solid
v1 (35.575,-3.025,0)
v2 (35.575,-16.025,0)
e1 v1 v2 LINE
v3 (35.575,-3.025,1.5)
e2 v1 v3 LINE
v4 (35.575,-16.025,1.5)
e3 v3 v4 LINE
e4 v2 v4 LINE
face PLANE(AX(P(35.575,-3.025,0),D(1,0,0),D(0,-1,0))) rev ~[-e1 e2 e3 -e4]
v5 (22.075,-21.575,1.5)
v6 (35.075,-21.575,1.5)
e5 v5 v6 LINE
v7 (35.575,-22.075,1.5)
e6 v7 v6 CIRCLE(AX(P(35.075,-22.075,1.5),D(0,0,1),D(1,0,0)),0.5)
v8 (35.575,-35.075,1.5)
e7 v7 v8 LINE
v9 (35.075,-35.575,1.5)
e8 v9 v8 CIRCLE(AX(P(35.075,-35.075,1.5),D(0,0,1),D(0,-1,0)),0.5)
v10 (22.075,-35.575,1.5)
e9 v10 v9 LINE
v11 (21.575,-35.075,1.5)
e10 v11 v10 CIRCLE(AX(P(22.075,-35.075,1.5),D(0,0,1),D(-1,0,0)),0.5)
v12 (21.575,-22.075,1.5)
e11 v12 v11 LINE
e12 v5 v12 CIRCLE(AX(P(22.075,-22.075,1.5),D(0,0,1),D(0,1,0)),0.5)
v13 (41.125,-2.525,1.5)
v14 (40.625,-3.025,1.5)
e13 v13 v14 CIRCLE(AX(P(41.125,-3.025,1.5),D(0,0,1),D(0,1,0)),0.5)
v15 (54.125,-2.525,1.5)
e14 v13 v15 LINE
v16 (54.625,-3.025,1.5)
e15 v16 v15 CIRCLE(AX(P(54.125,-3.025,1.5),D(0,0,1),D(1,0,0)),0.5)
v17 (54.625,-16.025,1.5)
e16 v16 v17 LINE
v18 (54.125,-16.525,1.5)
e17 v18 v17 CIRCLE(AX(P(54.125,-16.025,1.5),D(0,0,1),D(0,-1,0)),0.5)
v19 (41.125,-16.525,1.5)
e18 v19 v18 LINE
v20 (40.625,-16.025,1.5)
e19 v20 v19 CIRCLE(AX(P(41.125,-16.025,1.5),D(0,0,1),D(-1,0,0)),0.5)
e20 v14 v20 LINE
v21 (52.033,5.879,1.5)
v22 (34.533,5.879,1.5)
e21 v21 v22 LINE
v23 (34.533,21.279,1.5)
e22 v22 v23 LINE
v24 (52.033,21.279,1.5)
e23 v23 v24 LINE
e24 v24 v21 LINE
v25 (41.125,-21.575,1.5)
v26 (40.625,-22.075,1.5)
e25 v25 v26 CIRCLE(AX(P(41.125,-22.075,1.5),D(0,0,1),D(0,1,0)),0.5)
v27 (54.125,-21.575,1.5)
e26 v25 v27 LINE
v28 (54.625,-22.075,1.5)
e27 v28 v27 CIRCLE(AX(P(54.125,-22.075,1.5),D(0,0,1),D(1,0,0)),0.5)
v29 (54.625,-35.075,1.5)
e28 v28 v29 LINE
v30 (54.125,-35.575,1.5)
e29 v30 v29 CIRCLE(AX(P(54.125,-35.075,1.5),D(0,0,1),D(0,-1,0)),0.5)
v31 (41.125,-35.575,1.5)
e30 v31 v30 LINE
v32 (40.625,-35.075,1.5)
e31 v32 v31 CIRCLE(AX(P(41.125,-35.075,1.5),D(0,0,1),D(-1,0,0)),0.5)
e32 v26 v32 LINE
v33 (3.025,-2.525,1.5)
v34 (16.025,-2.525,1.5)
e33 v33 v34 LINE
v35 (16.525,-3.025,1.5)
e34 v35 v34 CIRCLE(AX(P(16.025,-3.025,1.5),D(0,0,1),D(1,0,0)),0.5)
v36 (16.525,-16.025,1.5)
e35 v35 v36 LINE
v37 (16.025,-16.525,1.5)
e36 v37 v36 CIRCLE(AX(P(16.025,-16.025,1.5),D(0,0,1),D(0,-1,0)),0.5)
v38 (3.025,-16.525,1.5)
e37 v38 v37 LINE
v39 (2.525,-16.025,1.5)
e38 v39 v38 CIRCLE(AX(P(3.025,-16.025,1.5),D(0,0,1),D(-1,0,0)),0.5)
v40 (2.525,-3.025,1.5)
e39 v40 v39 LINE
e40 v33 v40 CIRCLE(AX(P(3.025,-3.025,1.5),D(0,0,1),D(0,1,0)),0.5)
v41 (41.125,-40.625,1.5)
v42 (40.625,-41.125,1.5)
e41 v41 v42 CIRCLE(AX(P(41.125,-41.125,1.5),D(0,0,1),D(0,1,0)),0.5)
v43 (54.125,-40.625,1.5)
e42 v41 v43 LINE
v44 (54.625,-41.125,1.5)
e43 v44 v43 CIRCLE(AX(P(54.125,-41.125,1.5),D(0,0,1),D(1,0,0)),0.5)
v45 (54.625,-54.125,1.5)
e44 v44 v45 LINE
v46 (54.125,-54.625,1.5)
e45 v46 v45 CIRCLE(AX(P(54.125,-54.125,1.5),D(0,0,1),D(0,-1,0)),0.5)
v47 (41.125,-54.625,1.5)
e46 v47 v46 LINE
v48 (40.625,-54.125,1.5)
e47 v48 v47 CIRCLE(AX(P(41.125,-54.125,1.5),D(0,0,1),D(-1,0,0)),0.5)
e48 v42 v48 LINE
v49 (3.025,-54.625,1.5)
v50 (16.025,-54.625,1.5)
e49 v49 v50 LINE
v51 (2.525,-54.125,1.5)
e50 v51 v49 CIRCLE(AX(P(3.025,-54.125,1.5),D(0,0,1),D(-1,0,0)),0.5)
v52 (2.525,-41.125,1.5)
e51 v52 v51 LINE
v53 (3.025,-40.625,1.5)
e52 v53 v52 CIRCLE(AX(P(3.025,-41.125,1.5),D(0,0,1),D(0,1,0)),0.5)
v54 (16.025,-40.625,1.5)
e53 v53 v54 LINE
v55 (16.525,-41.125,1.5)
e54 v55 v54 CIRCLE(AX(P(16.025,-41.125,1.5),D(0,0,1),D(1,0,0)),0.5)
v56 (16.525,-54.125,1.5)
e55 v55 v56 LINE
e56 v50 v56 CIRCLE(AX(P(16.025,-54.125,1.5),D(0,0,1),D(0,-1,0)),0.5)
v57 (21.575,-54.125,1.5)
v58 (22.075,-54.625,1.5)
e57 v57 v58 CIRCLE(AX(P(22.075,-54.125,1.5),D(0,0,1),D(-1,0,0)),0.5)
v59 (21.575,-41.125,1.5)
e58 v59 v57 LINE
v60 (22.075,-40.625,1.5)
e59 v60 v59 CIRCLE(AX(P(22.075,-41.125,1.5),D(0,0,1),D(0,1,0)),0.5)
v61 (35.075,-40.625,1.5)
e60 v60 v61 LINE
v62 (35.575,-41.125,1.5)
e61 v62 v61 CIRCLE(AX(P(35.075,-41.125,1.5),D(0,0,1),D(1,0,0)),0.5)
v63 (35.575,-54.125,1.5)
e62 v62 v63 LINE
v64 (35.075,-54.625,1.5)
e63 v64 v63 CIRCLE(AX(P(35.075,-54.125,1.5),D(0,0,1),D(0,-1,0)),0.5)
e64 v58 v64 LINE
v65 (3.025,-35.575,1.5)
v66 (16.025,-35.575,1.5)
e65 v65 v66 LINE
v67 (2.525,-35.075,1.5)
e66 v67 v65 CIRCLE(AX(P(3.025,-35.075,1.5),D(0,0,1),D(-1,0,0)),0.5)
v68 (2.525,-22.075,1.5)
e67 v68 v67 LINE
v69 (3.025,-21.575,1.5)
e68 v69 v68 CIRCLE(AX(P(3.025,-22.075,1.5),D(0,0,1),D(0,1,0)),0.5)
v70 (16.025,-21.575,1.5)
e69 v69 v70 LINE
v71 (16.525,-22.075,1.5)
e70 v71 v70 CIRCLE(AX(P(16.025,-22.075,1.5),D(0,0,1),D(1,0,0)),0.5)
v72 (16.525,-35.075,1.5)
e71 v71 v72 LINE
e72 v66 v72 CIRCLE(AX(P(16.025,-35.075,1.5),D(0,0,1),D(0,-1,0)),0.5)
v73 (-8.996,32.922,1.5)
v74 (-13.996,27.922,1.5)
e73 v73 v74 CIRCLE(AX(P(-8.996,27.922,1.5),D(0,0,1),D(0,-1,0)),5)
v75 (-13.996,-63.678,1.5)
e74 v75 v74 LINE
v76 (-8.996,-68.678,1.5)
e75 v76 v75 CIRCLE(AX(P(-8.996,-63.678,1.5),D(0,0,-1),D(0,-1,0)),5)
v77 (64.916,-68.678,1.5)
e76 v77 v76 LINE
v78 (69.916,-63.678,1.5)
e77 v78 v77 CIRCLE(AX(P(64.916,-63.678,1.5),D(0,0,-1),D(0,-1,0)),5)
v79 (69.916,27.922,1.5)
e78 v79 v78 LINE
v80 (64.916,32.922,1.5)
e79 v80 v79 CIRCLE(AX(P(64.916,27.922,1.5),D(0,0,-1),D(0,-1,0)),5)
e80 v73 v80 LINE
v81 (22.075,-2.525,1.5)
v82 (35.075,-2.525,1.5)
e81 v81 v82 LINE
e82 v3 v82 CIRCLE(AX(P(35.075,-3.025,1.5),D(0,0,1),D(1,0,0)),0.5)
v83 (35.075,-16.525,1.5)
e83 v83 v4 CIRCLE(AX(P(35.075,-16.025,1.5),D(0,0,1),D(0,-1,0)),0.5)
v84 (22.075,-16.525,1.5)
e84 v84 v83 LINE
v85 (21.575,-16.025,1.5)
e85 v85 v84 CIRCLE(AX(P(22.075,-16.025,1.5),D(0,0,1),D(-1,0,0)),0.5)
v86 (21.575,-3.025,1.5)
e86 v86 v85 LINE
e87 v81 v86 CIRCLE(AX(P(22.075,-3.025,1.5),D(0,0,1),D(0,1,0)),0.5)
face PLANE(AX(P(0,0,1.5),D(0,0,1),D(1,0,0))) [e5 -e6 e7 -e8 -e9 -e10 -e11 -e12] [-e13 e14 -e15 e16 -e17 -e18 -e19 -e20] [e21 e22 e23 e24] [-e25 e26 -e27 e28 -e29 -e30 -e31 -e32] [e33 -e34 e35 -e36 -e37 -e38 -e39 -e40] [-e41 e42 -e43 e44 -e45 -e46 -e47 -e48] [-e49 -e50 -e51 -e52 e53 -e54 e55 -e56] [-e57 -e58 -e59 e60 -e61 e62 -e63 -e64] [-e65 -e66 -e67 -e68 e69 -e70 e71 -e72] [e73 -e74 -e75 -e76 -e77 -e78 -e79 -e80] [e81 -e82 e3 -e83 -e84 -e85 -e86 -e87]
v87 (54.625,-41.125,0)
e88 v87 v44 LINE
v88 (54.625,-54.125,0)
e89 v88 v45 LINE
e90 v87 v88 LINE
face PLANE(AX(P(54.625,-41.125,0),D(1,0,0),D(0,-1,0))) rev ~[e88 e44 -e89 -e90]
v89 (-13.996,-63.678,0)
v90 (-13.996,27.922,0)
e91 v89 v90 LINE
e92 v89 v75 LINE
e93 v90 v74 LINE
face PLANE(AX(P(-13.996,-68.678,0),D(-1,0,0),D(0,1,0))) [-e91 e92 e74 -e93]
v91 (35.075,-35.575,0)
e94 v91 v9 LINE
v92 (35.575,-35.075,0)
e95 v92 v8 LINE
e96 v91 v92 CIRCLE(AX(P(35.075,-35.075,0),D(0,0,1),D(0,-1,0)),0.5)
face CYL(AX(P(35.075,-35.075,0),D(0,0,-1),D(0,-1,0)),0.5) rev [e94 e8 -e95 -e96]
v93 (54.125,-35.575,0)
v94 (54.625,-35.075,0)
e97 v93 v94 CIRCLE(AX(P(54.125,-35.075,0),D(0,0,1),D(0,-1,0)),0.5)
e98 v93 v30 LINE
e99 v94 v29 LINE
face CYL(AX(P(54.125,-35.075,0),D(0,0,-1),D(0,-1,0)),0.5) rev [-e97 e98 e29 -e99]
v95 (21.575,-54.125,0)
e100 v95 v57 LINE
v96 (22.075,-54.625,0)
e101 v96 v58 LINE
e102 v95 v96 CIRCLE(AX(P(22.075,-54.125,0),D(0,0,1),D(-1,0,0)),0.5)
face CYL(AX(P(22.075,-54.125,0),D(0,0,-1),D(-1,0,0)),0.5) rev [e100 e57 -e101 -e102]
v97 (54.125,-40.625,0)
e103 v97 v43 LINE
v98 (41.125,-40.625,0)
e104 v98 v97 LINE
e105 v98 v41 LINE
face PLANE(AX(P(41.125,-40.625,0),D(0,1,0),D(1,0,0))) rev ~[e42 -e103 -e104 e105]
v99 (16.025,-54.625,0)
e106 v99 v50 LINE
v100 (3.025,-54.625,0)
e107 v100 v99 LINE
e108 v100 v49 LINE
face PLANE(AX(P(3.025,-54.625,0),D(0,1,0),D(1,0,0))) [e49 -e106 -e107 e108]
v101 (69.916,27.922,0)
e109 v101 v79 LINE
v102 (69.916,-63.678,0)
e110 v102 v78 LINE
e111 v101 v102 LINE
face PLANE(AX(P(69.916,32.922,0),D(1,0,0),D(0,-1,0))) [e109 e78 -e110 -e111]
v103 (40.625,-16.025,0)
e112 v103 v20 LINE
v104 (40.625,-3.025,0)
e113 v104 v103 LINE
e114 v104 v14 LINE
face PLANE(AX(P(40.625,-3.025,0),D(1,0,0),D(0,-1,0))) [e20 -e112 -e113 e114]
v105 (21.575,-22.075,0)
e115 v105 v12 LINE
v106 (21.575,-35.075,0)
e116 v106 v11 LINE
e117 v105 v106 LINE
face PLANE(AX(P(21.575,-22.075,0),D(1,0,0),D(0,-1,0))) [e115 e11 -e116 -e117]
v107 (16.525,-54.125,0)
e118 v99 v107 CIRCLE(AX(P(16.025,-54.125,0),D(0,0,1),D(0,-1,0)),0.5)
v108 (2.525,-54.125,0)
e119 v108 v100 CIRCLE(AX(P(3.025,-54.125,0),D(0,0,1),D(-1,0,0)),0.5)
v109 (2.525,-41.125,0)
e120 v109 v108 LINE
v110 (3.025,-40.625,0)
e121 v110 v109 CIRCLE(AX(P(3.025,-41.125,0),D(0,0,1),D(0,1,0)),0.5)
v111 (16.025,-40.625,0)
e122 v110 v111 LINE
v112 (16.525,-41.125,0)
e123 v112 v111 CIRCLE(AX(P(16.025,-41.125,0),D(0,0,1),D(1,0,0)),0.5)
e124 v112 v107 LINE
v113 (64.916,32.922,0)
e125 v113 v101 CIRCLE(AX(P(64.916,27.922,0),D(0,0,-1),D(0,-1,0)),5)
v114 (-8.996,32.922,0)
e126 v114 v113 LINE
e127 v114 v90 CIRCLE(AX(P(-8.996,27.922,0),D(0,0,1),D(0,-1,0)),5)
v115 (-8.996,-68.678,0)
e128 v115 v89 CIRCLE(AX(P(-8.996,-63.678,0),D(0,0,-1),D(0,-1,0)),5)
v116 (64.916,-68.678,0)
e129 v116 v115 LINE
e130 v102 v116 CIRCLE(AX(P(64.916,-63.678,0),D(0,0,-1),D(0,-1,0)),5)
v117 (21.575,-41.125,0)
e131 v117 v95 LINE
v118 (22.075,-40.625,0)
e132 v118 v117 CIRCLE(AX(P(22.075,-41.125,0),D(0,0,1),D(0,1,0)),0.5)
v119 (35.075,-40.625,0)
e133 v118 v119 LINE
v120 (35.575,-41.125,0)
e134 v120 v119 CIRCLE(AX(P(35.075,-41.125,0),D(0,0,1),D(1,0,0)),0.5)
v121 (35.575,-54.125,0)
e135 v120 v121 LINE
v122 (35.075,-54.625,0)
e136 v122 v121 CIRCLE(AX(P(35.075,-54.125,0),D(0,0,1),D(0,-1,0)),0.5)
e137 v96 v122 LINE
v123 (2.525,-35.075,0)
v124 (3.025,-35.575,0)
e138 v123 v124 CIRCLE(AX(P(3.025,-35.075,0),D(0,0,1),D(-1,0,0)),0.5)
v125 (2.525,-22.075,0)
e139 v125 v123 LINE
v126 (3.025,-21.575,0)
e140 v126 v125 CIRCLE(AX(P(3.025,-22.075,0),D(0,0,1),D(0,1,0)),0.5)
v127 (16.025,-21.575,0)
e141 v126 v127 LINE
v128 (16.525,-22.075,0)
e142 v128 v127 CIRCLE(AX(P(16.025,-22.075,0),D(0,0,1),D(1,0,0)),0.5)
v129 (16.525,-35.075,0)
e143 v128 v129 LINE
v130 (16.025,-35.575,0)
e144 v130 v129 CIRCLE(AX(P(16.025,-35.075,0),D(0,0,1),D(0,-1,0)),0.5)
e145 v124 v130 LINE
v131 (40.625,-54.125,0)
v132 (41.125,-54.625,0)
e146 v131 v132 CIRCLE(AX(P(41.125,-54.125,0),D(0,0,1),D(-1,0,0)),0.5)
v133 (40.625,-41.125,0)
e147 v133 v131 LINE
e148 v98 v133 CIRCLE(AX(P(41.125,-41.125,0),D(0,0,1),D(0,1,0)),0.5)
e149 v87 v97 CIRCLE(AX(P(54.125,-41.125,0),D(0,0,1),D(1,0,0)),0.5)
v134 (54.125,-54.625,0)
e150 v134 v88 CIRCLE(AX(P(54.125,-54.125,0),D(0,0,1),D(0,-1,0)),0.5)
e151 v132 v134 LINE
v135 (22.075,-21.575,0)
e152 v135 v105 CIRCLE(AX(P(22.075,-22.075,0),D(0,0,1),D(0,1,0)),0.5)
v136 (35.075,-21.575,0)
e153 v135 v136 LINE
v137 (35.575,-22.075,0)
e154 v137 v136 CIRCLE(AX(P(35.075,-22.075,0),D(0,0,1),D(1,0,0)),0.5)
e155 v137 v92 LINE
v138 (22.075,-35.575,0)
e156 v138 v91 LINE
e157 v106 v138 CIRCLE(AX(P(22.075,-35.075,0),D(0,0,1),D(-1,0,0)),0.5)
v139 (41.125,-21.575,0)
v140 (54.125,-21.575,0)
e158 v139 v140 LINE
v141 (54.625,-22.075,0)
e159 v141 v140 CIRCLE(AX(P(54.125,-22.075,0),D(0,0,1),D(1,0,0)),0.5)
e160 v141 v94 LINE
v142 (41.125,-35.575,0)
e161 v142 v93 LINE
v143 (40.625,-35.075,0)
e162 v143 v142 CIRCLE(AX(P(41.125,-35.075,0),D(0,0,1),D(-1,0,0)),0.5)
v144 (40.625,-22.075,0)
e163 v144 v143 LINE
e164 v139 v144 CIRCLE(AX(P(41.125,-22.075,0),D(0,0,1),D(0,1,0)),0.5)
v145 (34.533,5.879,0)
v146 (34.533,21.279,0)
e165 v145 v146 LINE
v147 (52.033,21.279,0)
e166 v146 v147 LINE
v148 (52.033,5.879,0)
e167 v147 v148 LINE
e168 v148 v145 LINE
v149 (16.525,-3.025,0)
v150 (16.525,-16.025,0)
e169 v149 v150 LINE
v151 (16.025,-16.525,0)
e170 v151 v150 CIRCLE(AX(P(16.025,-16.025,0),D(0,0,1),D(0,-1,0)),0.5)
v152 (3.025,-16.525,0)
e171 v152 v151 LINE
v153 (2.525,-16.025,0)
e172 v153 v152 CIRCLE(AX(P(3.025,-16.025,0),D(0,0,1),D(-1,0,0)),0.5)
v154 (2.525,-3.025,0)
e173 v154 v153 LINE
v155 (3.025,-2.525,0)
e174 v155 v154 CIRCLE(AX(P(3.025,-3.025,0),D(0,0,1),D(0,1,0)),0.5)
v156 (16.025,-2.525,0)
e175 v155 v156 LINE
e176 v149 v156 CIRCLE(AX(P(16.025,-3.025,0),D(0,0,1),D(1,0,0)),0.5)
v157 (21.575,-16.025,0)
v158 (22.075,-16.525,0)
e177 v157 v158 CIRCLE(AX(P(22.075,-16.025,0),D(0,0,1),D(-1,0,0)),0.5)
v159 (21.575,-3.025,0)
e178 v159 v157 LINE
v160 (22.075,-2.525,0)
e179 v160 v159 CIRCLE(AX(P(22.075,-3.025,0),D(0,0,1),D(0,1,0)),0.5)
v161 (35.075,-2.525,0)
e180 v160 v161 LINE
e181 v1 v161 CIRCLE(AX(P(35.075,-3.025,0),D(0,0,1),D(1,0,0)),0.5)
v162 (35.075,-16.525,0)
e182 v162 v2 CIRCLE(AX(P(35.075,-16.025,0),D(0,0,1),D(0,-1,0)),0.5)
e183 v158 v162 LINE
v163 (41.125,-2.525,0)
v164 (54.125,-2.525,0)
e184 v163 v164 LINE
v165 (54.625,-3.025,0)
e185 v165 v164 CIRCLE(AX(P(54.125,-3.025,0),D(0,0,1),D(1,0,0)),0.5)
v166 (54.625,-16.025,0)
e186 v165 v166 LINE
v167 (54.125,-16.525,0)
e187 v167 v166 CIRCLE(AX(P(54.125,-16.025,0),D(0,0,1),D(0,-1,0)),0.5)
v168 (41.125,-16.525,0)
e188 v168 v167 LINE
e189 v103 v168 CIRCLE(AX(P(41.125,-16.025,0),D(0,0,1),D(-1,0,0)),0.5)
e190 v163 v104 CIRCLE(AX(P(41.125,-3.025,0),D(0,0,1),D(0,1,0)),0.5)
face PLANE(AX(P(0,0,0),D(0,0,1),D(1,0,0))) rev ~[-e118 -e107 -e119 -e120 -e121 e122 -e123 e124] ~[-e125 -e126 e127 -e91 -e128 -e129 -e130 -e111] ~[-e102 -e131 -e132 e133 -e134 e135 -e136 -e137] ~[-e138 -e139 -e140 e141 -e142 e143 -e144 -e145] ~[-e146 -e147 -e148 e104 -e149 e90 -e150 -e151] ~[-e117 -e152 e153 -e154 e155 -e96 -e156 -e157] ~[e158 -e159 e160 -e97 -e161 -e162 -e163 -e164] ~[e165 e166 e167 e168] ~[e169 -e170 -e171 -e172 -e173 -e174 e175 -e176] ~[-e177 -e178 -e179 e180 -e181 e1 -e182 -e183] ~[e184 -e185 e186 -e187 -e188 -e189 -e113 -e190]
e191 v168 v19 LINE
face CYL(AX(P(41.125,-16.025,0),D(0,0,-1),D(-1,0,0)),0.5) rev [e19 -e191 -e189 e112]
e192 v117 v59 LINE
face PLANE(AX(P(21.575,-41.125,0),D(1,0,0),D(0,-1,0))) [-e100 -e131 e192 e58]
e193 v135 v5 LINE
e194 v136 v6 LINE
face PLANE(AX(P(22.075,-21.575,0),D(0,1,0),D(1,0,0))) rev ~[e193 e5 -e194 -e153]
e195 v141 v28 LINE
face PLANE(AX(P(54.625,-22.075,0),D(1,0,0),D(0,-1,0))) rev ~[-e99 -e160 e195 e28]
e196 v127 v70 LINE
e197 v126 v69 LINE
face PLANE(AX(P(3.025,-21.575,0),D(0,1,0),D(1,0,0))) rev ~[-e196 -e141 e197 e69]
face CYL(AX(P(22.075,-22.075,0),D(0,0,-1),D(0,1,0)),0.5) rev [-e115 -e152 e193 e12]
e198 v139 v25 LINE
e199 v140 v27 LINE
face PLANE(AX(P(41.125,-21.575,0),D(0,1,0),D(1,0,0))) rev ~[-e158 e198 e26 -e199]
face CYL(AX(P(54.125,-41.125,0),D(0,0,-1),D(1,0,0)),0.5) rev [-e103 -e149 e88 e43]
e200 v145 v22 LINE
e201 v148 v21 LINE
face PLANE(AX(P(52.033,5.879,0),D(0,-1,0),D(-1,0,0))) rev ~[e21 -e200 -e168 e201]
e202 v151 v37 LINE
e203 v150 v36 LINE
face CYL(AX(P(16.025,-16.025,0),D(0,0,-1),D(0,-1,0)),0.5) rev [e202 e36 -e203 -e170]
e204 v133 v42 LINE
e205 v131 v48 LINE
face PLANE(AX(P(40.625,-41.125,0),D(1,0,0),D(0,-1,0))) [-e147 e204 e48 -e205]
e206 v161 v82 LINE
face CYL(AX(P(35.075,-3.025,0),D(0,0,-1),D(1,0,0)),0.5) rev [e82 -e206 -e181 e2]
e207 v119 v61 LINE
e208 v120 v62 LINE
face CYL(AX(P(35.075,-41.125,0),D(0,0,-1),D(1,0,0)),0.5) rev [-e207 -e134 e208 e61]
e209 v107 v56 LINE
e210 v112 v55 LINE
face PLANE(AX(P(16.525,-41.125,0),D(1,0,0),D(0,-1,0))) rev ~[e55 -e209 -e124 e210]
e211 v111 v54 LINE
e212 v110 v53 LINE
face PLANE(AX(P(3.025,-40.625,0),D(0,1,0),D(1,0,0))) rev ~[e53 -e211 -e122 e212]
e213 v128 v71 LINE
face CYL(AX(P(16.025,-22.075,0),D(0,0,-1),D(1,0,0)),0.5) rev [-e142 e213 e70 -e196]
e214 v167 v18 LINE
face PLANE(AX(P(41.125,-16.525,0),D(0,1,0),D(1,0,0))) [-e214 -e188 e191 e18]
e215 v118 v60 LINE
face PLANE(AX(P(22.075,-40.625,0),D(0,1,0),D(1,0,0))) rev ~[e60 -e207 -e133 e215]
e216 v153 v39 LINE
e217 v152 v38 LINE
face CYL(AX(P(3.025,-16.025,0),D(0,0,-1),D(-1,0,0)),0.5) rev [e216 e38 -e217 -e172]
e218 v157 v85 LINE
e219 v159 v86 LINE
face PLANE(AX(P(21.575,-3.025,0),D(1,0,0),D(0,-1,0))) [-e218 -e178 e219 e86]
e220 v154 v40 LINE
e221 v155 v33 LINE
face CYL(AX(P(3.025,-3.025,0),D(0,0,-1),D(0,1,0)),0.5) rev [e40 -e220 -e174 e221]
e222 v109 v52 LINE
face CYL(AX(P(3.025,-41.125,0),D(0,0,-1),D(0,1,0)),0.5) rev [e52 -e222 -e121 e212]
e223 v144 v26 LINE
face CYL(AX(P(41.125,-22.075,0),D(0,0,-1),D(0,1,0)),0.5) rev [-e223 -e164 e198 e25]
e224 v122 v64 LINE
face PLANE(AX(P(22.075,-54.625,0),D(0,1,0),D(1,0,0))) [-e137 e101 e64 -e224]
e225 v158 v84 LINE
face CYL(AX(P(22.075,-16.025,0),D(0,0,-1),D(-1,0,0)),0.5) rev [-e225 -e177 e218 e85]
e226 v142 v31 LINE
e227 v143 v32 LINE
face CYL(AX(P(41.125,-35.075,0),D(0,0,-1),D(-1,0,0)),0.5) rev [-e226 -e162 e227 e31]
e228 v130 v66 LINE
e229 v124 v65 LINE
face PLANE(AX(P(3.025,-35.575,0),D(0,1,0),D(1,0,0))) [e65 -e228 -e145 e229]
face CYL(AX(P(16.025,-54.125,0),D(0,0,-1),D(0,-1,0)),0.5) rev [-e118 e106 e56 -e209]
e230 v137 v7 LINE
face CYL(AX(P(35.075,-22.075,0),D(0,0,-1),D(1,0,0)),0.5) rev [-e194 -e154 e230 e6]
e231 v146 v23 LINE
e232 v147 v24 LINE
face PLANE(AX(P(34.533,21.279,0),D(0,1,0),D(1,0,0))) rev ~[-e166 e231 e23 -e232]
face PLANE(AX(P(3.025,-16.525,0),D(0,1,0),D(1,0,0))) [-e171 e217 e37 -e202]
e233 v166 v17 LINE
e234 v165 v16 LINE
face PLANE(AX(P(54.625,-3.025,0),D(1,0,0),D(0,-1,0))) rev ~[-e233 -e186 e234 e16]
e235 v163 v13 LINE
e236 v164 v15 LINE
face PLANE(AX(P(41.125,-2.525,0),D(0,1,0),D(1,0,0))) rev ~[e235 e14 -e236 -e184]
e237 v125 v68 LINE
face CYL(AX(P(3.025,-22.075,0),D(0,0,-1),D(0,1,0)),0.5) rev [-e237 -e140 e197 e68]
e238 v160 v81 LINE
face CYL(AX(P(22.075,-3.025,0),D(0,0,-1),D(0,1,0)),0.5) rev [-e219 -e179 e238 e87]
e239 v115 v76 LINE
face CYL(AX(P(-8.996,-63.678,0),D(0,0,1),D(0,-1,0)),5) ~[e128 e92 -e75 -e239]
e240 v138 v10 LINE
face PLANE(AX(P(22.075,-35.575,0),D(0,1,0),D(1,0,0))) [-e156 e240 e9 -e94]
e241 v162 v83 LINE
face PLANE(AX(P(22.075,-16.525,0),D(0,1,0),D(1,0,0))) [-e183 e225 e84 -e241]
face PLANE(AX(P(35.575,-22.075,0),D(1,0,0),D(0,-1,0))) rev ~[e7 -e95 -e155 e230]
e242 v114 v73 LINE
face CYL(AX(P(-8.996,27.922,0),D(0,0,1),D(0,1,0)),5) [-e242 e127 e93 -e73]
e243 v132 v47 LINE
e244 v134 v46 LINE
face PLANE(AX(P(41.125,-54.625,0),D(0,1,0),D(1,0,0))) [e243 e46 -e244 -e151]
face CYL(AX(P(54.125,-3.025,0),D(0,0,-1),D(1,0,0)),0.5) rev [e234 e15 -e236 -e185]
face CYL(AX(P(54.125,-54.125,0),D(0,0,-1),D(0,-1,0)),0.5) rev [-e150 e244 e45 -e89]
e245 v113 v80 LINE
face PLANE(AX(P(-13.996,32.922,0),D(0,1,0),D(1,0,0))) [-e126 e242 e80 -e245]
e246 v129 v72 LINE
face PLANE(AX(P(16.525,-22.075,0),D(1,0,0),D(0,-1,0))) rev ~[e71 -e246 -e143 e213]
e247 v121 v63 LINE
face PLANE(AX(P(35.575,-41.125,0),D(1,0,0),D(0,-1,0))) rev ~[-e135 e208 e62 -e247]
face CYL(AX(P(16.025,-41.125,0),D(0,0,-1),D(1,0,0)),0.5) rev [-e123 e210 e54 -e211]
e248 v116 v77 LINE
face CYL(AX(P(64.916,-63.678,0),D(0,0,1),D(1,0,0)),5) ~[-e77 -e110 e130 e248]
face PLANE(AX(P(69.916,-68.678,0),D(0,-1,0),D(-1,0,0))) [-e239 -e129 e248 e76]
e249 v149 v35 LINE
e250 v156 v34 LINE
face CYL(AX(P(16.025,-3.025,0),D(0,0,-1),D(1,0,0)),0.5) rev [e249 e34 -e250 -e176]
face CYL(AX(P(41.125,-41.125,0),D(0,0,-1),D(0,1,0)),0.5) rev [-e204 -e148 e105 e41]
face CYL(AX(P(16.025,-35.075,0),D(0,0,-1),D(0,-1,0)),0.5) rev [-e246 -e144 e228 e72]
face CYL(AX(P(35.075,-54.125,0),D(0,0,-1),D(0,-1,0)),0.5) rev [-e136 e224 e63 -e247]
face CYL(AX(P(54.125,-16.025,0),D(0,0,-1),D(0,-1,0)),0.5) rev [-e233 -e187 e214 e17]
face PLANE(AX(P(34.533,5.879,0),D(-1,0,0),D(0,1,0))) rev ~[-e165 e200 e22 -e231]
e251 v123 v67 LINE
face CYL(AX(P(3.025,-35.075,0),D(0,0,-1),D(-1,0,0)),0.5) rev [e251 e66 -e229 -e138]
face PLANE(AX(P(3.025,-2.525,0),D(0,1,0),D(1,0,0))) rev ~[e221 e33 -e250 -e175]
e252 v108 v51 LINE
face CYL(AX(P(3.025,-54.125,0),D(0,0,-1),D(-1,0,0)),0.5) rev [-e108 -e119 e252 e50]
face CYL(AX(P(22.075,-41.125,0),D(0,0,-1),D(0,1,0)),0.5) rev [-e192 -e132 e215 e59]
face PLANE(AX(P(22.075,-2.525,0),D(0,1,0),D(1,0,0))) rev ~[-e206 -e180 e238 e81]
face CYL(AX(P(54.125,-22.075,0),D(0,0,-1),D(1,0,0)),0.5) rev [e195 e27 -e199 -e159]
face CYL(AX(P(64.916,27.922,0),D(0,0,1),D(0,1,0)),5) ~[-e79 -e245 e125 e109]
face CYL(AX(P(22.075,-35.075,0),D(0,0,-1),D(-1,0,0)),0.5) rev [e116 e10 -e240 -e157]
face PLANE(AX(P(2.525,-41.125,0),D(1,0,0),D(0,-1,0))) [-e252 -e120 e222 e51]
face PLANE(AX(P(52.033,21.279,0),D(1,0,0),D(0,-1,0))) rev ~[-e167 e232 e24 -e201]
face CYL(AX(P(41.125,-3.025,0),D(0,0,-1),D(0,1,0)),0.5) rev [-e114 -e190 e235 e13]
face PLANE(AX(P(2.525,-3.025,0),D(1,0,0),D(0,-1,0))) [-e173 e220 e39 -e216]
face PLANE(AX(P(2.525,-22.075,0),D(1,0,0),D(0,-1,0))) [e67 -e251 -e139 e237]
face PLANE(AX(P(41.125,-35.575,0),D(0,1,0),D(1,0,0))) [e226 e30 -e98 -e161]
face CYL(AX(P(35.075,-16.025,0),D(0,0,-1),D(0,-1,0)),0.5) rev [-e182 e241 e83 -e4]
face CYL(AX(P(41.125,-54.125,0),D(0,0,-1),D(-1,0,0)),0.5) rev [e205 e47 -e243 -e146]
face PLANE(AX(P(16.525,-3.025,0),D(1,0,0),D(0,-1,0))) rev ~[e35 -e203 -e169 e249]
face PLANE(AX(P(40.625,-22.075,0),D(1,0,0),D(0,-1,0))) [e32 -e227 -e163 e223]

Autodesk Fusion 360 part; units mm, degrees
sketch "Szkic1" plane through (0, 0, 0) normal (0, 0, 1) x (1, 0, 0)
  line L0 (-13.996, 32.922) -> (69.916, 32.922)
  line L1 (69.916, 32.922) -> (69.916, -68.678)
  line L2 (69.916, -68.678) -> (-13.996, -68.678)
  line L3 (-13.996, -68.678) -> (-13.996, 32.922)
  line L4 (3.025, -2.525) -> (16.025, -2.525)
  line L5 (3.025, -16.525) -> (16.025, -16.525)
  line L6 (2.525, -3.025) -> (2.525, -16.025)
  line L7 (16.525, -3.025) -> (16.525, -16.025)
  arc A0 (3.025, -2.525) -> (2.525, -3.025) centre (3.025, -3.025) ccw
  arc A1 (16.525, -3.025) -> (16.025, -2.525) centre (16.025, -3.025) ccw
  arc A2 (2.525, -16.025) -> (3.025, -16.525) centre (3.025, -16.025) ccw
  arc A3 (16.025, -16.525) -> (16.525, -16.025) centre (16.025, -16.025) ccw
  line L8 (22.075, -2.525) -> (35.075, -2.525)
  line L9 (22.075, -16.525) -> (35.075, -16.525)
  line L10 (21.575, -3.025) -> (21.575, -16.025)
  line L11 (35.575, -3.025) -> (35.575, -16.025)
  arc A4 (22.075, -2.525) -> (21.575, -3.025) centre (22.075, -3.025) ccw
  arc A5 (35.575, -3.025) -> (35.075, -2.525) centre (35.075, -3.025) ccw
  arc A6 (21.575, -16.025) -> (22.075, -16.525) centre (22.075, -16.025) ccw
  arc A7 (35.075, -16.525) -> (35.575, -16.025) centre (35.075, -16.025) ccw
  line L12 (41.125, -2.525) -> (54.125, -2.525)
  line L13 (41.125, -16.525) -> (54.125, -16.525)
  line L14 (40.625, -3.025) -> (40.625, -16.025)
  line L15 (54.625, -3.025) -> (54.625, -16.025)
  arc A8 (41.125, -2.525) -> (40.625, -3.025) centre (41.125, -3.025) ccw
  arc A9 (54.625, -3.025) -> (54.125, -2.525) centre (54.125, -3.025) ccw
  arc A10 (40.625, -16.025) -> (41.125, -16.525) centre (41.125, -16.025) ccw
  arc A11 (54.125, -16.525) -> (54.625, -16.025) centre (54.125, -16.025) ccw
  line L16 (3.025, -21.575) -> (16.025, -21.575)
  line L17 (3.025, -35.575) -> (16.025, -35.575)
  line L18 (2.525, -22.075) -> (2.525, -35.075)
  line L19 (16.525, -22.075) -> (16.525, -35.075)
  arc A12 (3.025, -21.575) -> (2.525, -22.075) centre (3.025, -22.075) ccw
  arc A13 (16.525, -22.075) -> (16.025, -21.575) centre (16.025, -22.075) ccw
  arc A14 (2.525, -35.075) -> (3.025, -35.575) centre (3.025, -35.075) ccw
  arc A15 (16.025, -35.575) -> (16.525, -35.075) centre (16.025, -35.075) ccw
  line L20 (22.075, -21.575) -> (35.075, -21.575)
  line L21 (22.075, -35.575) -> (35.075, -35.575)
  line L22 (21.575, -22.075) -> (21.575, -35.075)
  line L23 (35.575, -22.075) -> (35.575, -35.075)
  arc A16 (22.075, -21.575) -> (21.575, -22.075) centre (22.075, -22.075) ccw
  arc A17 (35.575, -22.075) -> (35.075, -21.575) centre (35.075, -22.075) ccw
  arc A18 (21.575, -35.075) -> (22.075, -35.575) centre (22.075, -35.075) ccw
  arc A19 (35.075, -35.575) -> (35.575, -35.075) centre (35.075, -35.075) ccw
  line L24 (41.125, -21.575) -> (54.125, -21.575)
  line L25 (41.125, -35.575) -> (54.125, -35.575)
  line L26 (40.625, -22.075) -> (40.625, -35.075)
  line L27 (54.625, -22.075) -> (54.625, -35.075)
  arc A20 (41.125, -21.575) -> (40.625, -22.075) centre (41.125, -22.075) ccw
  arc A21 (54.625, -22.075) -> (54.125, -21.575) centre (54.125, -22.075) ccw
  arc A22 (40.625, -35.075) -> (41.125, -35.575) centre (41.125, -35.075) ccw
  arc A23 (54.125, -35.575) -> (54.625, -35.075) centre (54.125, -35.075) ccw
  line L28 (3.025, -40.625) -> (16.025, -40.625)
  line L29 (3.025, -54.625) -> (16.025, -54.625)
  line L30 (2.525, -41.125) -> (2.525, -54.125)
  line L31 (16.525, -41.125) -> (16.525, -54.125)
  arc A24 (3.025, -40.625) -> (2.525, -41.125) centre (3.025, -41.125) ccw
  arc A25 (16.525, -41.125) -> (16.025, -40.625) centre (16.025, -41.125) ccw
  arc A26 (2.525, -54.125) -> (3.025, -54.625) centre (3.025, -54.125) ccw
  arc A27 (16.025, -54.625) -> (16.525, -54.125) centre (16.025, -54.125) ccw
  line L32 (22.075, -40.625) -> (35.075, -40.625)
  line L33 (22.075, -54.625) -> (35.075, -54.625)
  line L34 (21.575, -41.125) -> (21.575, -54.125)
  line L35 (35.575, -41.125) -> (35.575, -54.125)
  arc A28 (22.075, -40.625) -> (21.575, -41.125) centre (22.075, -41.125) ccw
  arc A29 (35.575, -41.125) -> (35.075, -40.625) centre (35.075, -41.125) ccw
  arc A30 (21.575, -54.125) -> (22.075, -54.625) centre (22.075, -54.125) ccw
  arc A31 (35.075, -54.625) -> (35.575, -54.125) centre (35.075, -54.125) ccw
  line L36 (41.125, -40.625) -> (54.125, -40.625)
  line L37 (41.125, -54.625) -> (54.125, -54.625)
  line L38 (40.625, -41.125) -> (40.625, -54.125)
  line L39 (54.625, -41.125) -> (54.625, -54.125)
  arc A32 (41.125, -40.625) -> (40.625, -41.125) centre (41.125, -41.125) ccw
  arc A33 (54.625, -41.125) -> (54.125, -40.625) centre (54.125, -41.125) ccw
  arc A34 (40.625, -54.125) -> (41.125, -54.625) centre (41.125, -54.125) ccw
  arc A35 (54.125, -54.625) -> (54.625, -54.125) centre (54.125, -54.125) ccw
  line L40 (34.533, 21.279) -> (52.033, 21.279)
  line L41 (52.033, 21.279) -> (52.033, 5.879)
  line L42 (52.033, 5.879) -> (34.533, 5.879)
  line L43 (34.533, 5.879) -> (34.533, 21.279)
  dimension "d1" = 16.521
  dimension "d2" = 14.053
  dimension "d3" = 83.912
  dimension "d4" = 101.6
  dimension "d5" = 17.5
  dimension "d6" = 15.4
  dimension "d7" = 8.404
  dimension "d8" = 17.883
extrude "Wyciągnięcie proste1" add sketch "Szkic1" along normal blind 1.5
fillet "Zaokrąglenie1" radius 5 4 edges at (69.916, -68.678, 0.75) (-13.996, -68.678, 0.75) (-13.996, 32.922, 0.75) (69.916, 32.922, 0.75)
